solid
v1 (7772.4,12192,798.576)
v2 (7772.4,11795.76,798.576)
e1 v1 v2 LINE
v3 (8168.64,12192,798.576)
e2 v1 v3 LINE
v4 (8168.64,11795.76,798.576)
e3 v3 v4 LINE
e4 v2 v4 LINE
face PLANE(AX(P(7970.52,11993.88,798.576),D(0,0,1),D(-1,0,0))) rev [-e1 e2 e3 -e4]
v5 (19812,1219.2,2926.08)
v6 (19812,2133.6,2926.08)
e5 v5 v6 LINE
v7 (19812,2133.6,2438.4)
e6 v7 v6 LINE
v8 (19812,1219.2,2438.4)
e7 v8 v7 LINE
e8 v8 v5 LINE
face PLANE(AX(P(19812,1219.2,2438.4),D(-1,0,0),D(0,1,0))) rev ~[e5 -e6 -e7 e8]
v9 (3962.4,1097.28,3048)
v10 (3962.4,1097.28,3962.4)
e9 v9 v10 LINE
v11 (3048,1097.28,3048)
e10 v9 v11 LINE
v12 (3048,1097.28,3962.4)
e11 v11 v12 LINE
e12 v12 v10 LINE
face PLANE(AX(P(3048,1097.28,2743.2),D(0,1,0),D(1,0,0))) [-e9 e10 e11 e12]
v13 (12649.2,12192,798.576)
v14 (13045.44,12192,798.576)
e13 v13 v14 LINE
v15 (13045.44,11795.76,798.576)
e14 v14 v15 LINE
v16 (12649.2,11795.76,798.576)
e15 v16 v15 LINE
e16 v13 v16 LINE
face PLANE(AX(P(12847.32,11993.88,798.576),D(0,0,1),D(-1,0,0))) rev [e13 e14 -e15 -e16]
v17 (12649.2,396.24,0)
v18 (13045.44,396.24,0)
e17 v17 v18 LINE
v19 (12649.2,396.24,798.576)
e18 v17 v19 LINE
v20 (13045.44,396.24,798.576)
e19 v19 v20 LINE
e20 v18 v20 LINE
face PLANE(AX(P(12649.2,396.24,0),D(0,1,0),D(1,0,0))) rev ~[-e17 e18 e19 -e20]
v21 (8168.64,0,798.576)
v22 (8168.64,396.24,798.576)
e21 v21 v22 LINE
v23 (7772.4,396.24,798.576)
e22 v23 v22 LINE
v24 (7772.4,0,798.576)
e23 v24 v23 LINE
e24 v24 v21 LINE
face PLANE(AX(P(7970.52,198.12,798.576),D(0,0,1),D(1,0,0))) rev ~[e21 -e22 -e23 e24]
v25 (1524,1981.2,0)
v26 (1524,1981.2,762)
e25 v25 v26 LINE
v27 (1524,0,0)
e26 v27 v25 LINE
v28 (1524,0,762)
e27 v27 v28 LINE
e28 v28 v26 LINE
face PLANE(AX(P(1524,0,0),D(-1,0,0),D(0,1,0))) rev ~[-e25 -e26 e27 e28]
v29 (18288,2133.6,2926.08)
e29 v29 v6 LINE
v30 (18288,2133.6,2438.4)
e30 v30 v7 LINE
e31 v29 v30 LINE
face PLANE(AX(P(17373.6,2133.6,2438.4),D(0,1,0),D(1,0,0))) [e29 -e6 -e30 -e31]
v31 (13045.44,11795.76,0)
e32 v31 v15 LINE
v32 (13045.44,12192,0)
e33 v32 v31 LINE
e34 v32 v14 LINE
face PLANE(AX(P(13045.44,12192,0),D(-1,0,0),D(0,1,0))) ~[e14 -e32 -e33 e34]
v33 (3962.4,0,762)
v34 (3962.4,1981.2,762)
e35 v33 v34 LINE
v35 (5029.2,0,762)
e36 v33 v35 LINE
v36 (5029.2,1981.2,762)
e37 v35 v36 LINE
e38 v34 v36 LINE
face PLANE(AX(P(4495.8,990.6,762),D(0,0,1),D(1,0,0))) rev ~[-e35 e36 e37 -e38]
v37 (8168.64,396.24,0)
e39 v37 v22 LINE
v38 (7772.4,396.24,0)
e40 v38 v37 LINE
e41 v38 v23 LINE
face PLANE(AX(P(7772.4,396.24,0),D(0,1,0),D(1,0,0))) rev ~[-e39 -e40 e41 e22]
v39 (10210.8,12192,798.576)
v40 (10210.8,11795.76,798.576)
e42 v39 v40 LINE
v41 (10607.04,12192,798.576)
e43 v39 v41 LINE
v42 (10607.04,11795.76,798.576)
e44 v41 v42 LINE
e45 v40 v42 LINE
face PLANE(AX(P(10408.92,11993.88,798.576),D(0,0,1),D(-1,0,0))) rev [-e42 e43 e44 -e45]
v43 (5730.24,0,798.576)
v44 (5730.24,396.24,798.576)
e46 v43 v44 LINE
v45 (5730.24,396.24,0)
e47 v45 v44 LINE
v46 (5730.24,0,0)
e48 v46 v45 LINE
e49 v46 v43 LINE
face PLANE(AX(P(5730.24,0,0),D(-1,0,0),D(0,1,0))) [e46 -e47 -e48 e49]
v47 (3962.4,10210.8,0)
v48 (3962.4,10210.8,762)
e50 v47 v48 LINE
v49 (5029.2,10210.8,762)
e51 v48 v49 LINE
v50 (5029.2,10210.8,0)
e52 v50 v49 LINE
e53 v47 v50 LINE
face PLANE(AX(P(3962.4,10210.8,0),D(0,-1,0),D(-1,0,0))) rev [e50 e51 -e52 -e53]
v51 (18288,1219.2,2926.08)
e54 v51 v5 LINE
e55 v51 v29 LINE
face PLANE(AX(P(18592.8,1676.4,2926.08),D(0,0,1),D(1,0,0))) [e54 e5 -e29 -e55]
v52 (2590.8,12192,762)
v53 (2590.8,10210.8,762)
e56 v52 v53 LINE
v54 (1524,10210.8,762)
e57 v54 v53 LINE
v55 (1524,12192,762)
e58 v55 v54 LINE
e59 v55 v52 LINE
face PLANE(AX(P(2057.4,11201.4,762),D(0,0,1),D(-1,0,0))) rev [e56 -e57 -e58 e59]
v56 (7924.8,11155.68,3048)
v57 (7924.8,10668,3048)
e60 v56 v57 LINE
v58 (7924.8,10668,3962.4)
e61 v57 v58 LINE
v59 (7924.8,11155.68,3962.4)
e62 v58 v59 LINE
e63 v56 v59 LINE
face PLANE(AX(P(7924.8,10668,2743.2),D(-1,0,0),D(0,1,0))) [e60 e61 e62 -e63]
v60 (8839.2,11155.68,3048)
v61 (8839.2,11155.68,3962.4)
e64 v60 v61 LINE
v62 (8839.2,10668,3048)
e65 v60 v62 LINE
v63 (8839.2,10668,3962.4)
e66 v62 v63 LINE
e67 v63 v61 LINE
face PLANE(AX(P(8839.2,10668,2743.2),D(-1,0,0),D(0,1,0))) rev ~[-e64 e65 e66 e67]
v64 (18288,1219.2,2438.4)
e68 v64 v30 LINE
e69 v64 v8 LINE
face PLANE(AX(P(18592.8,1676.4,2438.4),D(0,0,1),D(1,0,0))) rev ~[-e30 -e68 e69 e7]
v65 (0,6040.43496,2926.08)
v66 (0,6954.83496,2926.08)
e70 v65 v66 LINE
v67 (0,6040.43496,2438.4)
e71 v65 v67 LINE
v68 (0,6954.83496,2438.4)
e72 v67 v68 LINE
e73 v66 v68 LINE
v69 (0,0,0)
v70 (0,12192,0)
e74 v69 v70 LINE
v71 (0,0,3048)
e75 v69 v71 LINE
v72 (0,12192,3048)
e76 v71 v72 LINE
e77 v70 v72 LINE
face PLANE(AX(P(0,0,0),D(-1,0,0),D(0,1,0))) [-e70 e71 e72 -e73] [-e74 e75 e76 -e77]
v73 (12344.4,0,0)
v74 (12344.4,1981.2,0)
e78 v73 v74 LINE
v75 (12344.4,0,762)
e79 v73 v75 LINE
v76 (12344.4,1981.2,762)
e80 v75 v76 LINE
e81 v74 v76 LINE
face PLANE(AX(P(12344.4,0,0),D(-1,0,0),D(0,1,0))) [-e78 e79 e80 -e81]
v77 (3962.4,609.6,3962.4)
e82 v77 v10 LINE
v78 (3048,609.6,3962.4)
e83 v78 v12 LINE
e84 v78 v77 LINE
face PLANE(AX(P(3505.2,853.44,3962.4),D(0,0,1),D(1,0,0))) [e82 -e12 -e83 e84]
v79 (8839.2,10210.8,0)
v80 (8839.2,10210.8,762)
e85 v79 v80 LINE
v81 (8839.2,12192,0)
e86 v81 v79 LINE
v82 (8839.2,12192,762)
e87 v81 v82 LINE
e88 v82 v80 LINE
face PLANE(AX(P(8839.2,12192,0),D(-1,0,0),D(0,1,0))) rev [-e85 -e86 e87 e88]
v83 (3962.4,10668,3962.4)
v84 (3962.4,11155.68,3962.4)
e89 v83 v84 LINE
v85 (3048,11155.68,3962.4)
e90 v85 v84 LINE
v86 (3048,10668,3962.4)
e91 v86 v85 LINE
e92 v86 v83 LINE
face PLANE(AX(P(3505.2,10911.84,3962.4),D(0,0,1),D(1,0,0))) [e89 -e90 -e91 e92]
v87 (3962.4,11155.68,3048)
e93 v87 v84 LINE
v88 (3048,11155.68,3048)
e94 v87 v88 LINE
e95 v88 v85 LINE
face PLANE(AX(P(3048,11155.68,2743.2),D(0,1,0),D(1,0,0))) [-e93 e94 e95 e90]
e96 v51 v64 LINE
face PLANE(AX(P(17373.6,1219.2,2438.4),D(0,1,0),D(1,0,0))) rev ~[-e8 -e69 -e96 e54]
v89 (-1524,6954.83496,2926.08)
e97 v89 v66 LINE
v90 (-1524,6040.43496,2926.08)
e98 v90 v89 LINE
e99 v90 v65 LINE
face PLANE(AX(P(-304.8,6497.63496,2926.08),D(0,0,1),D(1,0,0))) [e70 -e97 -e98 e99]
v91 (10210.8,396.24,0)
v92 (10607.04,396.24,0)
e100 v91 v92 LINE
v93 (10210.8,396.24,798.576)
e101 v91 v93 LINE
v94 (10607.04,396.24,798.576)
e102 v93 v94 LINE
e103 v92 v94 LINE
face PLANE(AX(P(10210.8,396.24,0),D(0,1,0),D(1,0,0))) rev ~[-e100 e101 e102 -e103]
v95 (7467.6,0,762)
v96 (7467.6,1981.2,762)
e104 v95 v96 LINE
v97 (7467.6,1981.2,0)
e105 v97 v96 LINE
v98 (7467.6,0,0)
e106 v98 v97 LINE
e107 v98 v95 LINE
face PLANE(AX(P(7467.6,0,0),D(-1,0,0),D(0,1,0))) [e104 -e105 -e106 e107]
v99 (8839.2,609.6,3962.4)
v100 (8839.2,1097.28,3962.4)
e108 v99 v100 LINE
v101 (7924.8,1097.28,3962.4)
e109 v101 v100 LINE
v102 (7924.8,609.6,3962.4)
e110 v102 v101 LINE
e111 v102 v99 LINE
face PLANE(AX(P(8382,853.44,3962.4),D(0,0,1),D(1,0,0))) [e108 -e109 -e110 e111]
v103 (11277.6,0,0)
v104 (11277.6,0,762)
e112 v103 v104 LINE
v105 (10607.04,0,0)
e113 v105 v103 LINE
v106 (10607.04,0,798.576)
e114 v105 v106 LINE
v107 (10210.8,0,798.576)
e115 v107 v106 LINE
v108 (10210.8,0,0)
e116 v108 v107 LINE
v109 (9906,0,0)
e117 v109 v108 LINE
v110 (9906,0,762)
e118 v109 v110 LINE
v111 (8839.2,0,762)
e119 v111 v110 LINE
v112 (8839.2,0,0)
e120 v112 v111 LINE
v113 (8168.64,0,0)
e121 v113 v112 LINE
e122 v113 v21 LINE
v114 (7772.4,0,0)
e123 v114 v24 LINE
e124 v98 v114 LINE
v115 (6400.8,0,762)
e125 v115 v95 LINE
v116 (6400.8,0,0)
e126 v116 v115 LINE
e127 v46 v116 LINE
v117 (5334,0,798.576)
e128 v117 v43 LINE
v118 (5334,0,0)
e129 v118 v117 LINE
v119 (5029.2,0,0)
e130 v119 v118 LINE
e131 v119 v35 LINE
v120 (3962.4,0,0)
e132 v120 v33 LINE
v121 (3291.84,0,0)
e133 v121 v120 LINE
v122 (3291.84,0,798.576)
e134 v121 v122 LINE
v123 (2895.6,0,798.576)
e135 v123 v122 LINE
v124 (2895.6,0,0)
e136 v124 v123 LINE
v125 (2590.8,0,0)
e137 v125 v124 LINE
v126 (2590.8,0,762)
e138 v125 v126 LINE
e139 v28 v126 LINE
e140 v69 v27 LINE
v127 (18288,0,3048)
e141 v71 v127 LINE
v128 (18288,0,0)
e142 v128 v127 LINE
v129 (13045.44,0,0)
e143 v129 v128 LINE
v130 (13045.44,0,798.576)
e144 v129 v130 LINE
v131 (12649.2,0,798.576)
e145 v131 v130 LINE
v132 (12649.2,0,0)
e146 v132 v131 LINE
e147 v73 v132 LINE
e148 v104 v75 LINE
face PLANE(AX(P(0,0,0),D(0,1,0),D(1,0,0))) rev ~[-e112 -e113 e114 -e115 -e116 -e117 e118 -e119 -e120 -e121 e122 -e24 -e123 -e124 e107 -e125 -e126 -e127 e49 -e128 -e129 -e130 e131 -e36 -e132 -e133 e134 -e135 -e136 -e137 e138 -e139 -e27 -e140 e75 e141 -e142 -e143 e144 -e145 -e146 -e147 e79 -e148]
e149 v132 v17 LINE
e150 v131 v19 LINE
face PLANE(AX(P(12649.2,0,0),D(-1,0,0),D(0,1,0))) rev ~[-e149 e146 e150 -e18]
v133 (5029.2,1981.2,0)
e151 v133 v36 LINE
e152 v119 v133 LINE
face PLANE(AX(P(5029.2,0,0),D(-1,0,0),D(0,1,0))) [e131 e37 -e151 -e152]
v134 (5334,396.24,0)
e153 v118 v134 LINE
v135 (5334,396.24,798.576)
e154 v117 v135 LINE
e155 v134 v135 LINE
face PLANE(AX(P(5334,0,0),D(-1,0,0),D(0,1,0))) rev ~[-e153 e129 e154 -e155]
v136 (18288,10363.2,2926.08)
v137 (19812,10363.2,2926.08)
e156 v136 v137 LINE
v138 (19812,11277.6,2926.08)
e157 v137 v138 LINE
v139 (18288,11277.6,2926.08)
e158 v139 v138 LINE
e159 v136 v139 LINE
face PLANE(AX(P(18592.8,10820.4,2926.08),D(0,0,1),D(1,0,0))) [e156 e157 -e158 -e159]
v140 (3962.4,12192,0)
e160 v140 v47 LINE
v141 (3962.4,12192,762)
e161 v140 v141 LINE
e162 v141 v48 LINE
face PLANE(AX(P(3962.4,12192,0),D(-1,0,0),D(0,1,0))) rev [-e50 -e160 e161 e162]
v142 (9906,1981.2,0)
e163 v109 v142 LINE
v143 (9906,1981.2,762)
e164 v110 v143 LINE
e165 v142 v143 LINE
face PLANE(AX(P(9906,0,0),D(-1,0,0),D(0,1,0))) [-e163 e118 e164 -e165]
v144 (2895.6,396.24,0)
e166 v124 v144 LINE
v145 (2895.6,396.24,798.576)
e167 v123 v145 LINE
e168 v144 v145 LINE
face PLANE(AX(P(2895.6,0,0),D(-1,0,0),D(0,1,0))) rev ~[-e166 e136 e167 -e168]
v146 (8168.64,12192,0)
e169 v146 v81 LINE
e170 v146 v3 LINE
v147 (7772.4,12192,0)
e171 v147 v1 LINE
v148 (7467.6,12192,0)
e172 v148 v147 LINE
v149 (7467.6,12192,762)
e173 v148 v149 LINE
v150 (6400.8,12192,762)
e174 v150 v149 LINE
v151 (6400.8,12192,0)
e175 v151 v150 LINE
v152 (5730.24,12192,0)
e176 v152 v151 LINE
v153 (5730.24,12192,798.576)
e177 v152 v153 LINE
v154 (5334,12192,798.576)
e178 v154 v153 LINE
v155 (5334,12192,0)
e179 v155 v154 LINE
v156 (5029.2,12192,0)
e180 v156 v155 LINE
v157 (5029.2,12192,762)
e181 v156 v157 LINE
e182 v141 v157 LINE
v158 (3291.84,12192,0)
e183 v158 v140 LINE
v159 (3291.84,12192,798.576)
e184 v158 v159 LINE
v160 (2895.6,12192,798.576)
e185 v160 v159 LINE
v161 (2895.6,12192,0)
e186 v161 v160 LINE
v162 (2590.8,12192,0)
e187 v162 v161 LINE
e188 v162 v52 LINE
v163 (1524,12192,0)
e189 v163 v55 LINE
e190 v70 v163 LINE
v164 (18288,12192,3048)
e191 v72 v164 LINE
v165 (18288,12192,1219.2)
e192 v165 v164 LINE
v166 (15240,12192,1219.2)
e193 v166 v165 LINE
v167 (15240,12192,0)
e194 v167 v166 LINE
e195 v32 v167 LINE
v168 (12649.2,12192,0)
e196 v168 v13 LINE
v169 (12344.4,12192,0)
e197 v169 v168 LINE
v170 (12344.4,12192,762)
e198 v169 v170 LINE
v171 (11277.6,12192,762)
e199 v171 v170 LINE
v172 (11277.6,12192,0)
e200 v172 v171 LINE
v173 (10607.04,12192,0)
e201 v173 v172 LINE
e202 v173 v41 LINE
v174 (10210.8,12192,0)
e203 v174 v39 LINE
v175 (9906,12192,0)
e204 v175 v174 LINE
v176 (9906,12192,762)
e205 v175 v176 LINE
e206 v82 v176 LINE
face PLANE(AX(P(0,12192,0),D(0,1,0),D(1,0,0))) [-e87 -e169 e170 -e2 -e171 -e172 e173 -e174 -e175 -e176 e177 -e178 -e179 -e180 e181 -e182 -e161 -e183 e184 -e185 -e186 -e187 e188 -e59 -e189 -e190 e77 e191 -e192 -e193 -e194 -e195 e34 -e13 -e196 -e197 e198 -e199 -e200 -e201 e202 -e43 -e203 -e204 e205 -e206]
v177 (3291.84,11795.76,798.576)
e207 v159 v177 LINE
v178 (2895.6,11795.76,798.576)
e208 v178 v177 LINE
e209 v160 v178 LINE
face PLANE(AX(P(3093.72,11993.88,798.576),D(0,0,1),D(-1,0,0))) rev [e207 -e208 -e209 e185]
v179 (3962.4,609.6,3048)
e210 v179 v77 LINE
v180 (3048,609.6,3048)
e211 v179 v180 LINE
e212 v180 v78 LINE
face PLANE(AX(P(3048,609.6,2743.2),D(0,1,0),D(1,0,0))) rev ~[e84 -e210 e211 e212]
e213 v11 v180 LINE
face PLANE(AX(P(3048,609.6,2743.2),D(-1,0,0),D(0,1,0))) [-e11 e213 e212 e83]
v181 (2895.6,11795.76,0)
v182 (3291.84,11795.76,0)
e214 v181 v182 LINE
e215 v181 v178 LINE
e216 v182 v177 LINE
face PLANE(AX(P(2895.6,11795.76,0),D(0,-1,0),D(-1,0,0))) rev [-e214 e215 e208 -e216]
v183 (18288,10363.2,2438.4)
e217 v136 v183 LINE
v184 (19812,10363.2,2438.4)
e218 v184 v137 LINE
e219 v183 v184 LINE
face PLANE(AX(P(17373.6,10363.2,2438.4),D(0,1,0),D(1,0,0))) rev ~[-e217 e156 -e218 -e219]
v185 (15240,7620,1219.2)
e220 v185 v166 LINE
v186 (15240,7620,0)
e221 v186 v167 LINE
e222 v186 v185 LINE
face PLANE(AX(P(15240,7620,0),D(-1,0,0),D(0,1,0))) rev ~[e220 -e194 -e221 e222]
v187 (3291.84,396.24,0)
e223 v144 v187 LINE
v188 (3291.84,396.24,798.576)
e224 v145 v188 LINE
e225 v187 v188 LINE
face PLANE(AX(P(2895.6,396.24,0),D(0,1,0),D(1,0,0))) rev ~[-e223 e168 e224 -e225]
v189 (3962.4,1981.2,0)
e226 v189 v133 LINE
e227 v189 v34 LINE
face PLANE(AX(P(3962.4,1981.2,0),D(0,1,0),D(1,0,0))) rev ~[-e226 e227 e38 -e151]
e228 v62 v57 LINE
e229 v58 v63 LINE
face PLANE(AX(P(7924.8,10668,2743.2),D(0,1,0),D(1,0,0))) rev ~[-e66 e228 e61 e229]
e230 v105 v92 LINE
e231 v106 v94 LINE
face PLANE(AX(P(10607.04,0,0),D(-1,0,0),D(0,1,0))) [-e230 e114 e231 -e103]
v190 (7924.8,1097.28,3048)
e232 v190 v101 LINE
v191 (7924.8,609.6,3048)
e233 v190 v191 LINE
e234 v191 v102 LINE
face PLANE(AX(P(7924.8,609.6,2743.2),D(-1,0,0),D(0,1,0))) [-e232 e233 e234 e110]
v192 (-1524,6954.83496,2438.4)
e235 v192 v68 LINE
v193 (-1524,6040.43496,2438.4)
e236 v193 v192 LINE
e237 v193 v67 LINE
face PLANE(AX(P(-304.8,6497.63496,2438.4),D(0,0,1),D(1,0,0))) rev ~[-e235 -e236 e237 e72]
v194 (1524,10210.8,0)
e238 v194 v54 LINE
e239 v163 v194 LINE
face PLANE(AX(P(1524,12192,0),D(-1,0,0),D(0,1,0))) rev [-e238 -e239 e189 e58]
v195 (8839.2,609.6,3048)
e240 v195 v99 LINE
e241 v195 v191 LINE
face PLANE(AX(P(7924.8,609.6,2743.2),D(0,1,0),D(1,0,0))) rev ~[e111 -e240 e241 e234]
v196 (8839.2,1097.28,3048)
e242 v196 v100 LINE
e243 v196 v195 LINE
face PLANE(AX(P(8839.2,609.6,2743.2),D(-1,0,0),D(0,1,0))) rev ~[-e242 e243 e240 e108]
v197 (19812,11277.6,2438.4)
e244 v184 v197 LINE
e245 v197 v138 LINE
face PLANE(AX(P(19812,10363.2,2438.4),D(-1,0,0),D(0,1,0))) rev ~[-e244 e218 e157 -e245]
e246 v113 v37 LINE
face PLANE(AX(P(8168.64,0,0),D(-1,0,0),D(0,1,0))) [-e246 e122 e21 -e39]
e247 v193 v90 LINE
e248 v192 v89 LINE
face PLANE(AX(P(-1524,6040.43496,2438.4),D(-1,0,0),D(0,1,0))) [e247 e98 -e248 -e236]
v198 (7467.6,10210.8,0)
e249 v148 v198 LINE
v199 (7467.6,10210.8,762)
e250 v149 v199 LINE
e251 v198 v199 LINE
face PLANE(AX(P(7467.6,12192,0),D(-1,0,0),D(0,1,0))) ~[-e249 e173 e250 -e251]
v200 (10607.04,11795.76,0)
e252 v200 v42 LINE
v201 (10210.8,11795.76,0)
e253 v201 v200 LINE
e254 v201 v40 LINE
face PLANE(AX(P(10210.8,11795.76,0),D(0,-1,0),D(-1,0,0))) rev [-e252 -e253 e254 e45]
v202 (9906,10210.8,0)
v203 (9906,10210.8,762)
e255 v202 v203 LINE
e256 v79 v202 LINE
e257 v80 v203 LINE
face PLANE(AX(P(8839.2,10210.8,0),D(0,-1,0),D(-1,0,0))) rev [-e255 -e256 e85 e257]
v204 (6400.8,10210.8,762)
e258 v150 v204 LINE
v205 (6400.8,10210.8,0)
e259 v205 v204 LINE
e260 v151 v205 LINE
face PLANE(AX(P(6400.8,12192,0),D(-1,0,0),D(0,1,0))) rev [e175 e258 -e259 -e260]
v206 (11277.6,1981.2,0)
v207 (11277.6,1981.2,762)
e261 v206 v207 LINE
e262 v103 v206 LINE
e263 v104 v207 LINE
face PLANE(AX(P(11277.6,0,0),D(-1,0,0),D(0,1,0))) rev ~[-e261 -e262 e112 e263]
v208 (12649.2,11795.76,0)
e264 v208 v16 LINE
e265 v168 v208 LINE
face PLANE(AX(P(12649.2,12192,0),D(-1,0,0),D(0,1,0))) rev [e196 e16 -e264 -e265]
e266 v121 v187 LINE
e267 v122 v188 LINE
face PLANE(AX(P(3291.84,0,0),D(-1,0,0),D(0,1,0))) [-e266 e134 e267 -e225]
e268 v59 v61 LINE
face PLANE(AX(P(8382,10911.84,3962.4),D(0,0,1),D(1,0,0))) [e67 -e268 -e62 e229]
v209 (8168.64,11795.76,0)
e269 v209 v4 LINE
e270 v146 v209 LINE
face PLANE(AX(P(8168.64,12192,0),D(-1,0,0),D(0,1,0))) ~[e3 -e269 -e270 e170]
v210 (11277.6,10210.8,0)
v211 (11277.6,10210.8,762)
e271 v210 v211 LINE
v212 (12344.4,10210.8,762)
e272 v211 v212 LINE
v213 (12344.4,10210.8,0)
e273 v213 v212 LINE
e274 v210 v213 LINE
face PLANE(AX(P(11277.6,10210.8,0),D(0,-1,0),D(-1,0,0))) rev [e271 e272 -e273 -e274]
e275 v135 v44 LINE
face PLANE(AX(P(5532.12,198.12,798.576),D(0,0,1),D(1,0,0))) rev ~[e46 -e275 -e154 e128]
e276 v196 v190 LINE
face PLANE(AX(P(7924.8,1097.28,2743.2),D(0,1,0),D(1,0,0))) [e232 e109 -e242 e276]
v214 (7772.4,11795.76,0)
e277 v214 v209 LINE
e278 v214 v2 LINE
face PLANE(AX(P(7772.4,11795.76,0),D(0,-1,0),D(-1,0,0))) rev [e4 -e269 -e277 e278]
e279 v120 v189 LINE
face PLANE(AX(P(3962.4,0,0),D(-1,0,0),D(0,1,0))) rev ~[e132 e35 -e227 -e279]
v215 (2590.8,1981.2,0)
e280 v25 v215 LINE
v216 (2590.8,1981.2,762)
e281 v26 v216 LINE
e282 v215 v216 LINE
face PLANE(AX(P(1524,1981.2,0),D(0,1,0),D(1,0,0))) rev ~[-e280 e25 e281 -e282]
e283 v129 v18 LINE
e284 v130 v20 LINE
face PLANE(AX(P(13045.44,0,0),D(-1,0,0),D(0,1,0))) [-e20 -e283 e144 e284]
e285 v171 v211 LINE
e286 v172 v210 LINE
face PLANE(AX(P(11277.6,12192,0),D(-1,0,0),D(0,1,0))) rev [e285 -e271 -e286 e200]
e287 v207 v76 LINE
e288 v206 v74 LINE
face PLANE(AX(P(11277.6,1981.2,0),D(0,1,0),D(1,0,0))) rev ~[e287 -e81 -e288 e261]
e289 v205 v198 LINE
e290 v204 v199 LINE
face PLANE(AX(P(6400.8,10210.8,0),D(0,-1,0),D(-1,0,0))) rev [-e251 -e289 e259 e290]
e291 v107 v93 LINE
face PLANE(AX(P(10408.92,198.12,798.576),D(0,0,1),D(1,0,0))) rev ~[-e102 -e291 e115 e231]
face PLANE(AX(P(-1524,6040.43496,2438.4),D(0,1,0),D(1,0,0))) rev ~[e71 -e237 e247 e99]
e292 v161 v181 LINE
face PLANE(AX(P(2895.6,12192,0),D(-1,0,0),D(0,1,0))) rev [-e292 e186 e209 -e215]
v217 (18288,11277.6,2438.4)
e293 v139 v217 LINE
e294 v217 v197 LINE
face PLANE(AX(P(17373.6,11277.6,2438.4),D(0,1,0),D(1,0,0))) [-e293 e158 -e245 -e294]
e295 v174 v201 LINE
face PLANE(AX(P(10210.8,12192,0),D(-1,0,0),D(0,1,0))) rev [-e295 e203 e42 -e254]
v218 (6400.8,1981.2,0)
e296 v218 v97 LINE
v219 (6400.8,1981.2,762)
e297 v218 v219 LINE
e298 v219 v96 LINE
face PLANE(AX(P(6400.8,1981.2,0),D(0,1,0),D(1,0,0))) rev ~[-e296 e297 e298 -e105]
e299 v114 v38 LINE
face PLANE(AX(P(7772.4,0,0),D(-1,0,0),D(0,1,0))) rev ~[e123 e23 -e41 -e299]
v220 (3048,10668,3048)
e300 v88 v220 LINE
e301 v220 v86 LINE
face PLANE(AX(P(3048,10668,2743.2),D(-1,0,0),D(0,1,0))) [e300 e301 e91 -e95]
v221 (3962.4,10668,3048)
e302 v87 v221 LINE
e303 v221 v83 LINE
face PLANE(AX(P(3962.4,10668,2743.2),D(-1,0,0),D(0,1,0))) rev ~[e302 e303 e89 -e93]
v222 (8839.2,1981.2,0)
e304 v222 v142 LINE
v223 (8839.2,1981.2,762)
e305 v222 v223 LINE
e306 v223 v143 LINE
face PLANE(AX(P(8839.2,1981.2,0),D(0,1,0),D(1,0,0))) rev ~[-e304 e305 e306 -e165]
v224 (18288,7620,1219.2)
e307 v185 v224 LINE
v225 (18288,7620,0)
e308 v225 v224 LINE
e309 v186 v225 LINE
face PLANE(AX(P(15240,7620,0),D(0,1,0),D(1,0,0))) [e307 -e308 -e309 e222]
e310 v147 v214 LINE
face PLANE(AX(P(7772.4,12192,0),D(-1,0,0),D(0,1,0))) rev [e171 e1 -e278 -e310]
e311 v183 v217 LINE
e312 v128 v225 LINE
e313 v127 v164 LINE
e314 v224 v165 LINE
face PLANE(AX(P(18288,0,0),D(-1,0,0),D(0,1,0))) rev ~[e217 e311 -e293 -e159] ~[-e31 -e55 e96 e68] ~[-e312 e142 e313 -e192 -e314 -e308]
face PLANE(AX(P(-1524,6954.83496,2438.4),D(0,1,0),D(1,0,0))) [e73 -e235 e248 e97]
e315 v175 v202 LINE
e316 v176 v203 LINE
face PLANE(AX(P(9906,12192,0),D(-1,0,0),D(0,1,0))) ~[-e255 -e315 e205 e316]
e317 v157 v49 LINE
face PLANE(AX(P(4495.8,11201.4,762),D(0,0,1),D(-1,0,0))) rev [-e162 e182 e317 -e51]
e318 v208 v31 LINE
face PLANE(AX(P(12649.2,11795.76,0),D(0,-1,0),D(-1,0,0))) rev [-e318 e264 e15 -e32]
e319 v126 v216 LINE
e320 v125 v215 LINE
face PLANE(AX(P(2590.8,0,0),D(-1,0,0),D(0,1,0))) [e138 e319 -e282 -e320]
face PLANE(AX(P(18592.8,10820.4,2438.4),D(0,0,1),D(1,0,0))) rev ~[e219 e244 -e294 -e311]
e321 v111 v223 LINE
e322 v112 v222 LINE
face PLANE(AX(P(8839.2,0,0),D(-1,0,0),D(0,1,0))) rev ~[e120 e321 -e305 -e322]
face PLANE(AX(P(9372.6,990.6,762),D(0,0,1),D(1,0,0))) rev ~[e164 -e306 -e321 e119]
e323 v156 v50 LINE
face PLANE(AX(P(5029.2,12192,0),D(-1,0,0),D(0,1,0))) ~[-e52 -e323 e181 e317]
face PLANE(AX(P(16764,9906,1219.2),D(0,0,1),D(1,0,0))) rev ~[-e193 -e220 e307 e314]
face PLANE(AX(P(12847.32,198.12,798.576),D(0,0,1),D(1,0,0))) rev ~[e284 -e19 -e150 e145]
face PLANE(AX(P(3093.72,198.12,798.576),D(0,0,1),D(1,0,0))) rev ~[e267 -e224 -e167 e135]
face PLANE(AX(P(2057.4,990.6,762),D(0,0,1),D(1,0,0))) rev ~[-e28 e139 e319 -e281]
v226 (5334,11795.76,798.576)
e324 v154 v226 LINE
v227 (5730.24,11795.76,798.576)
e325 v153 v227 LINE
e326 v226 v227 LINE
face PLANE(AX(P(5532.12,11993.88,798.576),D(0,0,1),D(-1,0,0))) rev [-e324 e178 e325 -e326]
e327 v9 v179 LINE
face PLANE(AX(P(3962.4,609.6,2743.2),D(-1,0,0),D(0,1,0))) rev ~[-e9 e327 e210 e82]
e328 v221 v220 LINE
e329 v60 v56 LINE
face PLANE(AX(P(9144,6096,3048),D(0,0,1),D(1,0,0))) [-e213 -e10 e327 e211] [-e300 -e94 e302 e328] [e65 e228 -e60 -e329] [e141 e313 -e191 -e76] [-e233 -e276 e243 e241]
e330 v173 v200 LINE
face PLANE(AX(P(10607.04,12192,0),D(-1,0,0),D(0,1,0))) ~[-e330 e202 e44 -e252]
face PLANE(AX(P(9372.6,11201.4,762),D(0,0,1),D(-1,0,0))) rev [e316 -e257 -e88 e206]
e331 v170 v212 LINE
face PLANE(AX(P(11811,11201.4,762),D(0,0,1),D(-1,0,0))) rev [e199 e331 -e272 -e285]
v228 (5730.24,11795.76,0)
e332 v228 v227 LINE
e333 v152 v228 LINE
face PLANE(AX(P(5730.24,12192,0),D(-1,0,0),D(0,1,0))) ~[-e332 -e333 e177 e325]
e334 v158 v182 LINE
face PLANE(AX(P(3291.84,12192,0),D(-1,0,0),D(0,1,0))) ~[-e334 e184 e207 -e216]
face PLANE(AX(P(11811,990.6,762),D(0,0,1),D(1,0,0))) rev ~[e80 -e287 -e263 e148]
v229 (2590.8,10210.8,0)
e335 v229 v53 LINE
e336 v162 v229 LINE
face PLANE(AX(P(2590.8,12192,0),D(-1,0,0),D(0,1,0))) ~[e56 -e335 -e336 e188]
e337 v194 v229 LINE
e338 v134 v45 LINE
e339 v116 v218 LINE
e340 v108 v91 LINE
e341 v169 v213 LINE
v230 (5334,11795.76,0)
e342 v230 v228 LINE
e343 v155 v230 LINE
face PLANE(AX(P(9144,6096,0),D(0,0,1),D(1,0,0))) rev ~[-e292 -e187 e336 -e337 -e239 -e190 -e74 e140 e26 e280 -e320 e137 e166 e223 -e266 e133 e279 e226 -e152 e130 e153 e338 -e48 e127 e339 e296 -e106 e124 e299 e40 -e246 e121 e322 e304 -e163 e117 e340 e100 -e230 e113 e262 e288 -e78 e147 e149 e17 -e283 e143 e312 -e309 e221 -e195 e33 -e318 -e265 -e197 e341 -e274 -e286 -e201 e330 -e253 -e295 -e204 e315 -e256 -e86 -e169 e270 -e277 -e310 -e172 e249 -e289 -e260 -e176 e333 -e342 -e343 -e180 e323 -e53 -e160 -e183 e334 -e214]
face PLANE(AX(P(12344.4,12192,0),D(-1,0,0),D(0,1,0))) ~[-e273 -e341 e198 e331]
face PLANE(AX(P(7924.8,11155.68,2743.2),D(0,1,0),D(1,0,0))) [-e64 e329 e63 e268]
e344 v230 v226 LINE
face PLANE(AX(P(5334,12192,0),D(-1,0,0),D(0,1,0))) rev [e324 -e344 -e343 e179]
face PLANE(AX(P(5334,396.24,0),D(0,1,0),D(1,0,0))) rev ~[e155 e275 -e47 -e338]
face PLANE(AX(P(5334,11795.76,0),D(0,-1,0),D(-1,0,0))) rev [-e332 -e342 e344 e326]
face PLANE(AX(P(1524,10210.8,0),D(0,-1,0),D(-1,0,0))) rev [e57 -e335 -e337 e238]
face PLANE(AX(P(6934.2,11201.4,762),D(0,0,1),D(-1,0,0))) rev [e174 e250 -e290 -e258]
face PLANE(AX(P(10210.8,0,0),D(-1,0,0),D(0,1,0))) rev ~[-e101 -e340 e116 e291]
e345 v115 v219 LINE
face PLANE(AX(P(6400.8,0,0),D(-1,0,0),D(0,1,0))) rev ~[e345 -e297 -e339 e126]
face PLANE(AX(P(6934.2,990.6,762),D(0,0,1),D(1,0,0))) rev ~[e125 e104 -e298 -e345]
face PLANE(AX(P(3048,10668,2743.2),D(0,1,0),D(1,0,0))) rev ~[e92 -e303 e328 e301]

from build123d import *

# Parameters (mm, degrees)
BOX011_W     = 3048
BOX011_H     = 4572
BOX011_DEPTH = 1219.2
BOX006_W     = 1066.8
BOX006_H     = 1981.2
BOX006_DEPTH = 762
BOX005_W     = 396.24
BOX005_H     = 396.24
BOX005_DEPTH = 798.576
BOX007_W     = 1066.8
BOX007_H     = 1981.2
BOX007_DEPTH = 762
BOX008_W     = 396.24
BOX008_H     = 396.24
BOX008_DEPTH = 798.576
BOX010_W     = 1066.8
BOX010_H     = 1981.2
BOX010_DEPTH = 762
BOX009_W     = 396.24
BOX009_H     = 396.24
BOX009_DEPTH = 798.576
BOX001_W     = 1066.8
BOX001_H     = 1981.2
BOX001_DEPTH = 762
BOX002_W     = 396.24
BOX002_H     = 396.24
BOX002_DEPTH = 798.576
BOX003_W     = 1066.8
BOX003_H     = 1981.2
BOX003_DEPTH = 762
BOX004_W     = 396.24
BOX004_H     = 396.24
BOX004_DEPTH = 798.576
BOX017_W     = 914.4
BOX017_H     = 487.68
BOX017_DEPTH = 1219.2
BOX018_W     = 914.4
BOX018_H     = 487.68
BOX018_DEPTH = 1219.2
BOX019_W     = 914.4
BOX019_H     = 487.68
BOX019_DEPTH = 1219.2
BOX016_W     = 914.4
BOX016_H     = 487.68
BOX016_DEPTH = 1219.2
BOX012_W     = 2438.4
BOX012_H     = 914.4
BOX012_DEPTH = 487.68
BOX013_W     = 2438.4
BOX013_H     = 914.4
BOX013_DEPTH = 487.68
BOX020_W     = 2438.4
BOX020_H     = 914.4
BOX020_DEPTH = 487.68
BOX_W        = 18288
BOX_H        = 12192
BOX_DEPTH    = 3048


with BuildPart() as nurse_station:
    # Box011 → Box011 (new body)
    with BuildSketch(Plane(origin=(15240, 7620, 0), x_dir=(1, 0, 0), z_dir=(0, 0, 1))):
        with Locations((1524, 2286)):
            Rectangle(BOX011_W, BOX011_H)
    extrude(amount=BOX011_DEPTH)


with BuildPart() as box006:
    # Box006 → Box006 (new body)
    with BuildSketch(Plane.XY):
        with Locations((533.4, 990.6)):
            Rectangle(BOX006_W, BOX006_H)
    extrude(amount=BOX006_DEPTH)


with BuildPart() as fusion002:
    # Box005 → Box005 (new body)
    with BuildSketch(Plane(origin=(1371.6, 0, 0), x_dir=(1, 0, 0), z_dir=(0, 0, 1))):
        with Locations((198.12, 198.12)):
            Rectangle(BOX005_W, BOX005_H)
    extrude(amount=BOX005_DEPTH)

    # Fusion002: union Box006
    add(box006.part)


with BuildPart() as fusion002_1:
    # Fusion002 placement: moved
    add(fusion002.part.moved(Location((4876.8, 0, 0))))


with BuildPart() as box007:
    # Box007 → Box007 (new body)
    with BuildSketch(Plane.XY):
        with Locations((533.4, 990.6)):
            Rectangle(BOX007_W, BOX007_H)
    extrude(amount=BOX007_DEPTH)


with BuildPart() as fusion003:
    # Box008 → Box008 (new body)
    with BuildSketch(Plane(origin=(1371.6, 0, 0), x_dir=(1, 0, 0), z_dir=(0, 0, 1))):
        with Locations((198.12, 198.12)):
            Rectangle(BOX008_W, BOX008_H)
    extrude(amount=BOX008_DEPTH)

    # Fusion003: union Box007
    add(box007.part)


with BuildPart() as fusion003_1:
    # Fusion003 placement: moved
    add(fusion003.part.moved(Location((7315.2, 0, 0))))


with BuildPart() as box010:
    # Box010 → Box010 (new body)
    with BuildSketch(Plane.XY):
        with Locations((533.4, 990.6)):
            Rectangle(BOX010_W, BOX010_H)
    extrude(amount=BOX010_DEPTH)


with BuildPart() as fusion004:
    # Box009 → Box009 (new body)
    with BuildSketch(Plane(origin=(1371.6, 0, 0), x_dir=(1, 0, 0), z_dir=(0, 0, 1))):
        with Locations((198.12, 198.12)):
            Rectangle(BOX009_W, BOX009_H)
    extrude(amount=BOX009_DEPTH)

    # Fusion004: union Box010
    add(box010.part)


with BuildPart() as fusion004_1:
    # Fusion004 placement: moved
    add(fusion004.part.moved(Location((9753.6, 0, 0))))


with BuildPart() as box001:
    # Box001 → Box001 (new body)
    with BuildSketch(Plane.XY):
        with Locations((533.4, 990.6)):
            Rectangle(BOX001_W, BOX001_H)
    extrude(amount=BOX001_DEPTH)


with BuildPart() as fusion:
    # Box002 → Box002 (new body)
    with BuildSketch(Plane(origin=(1371.6, 0, 0), x_dir=(1, 0, 0), z_dir=(0, 0, 1))):
        with Locations((198.12, 198.12)):
            Rectangle(BOX002_W, BOX002_H)
    extrude(amount=BOX002_DEPTH)

    # Fusion: union Box001
    add(box001.part)


with BuildPart() as box003:
    # Box003 → Box003 (new body)
    with BuildSketch(Plane.XY):
        with Locations((533.4, 990.6)):
            Rectangle(BOX003_W, BOX003_H)
    extrude(amount=BOX003_DEPTH)


with BuildPart() as right_beds:
    # Box004 → Box004 (new body)
    with BuildSketch(Plane(origin=(1371.6, 0, 0), x_dir=(1, 0, 0), z_dir=(0, 0, 1))):
        with Locations((198.12, 198.12)):
            Rectangle(BOX004_W, BOX004_H)
    extrude(amount=BOX004_DEPTH)

    # Fusion001: union Box003
    add(box003.part)


with BuildPart() as right_beds_1:
    # Fusion001 placement: moved
    add(right_beds.part.moved(Location((2438.4, 0, 0))))

    # Fusion005: union Fusion002, Fusion003, Fusion004, Fusion
    add(fusion002_1.part)
    add(fusion003_1.part)
    add(fusion004_1.part)
    add(fusion.part)


with BuildPart() as surfaces:
    # Part__Mirroring: instance of right beds
    add(right_beds_1.part.mirror(Plane(origin=(0, 6096, 0), x_dir=(1, 0, 0), z_dir=(0, 1, 0))))

    # Fusion006: union right beds
    add(right_beds_1.part)


with BuildPart() as surfaces_1:
    # Fusion006 placement: moved
    add(surfaces.part.moved(Location((1524, 0, 0))))

    # Fusion010: union Nurse Station
    add(nurse_station.part)


with BuildPart() as branch003:
    # Box017 → Box017 (new body)
    with BuildSketch(Plane(origin=(7924.8, 10668, 2743.2), x_dir=(1, 0, 0), z_dir=(0, 0, 1))):
        with Locations((457.2, 243.84)):
            Rectangle(BOX017_W, BOX017_H)
    extrude(amount=BOX017_DEPTH)


with BuildPart() as branch004:
    # Box018 → Box018 (new body)
    with BuildSketch(Plane(origin=(3048, 609.6, 2743.2), x_dir=(1, 0, 0), z_dir=(0, 0, 1))):
        with Locations((457.2, 243.84)):
            Rectangle(BOX018_W, BOX018_H)
    extrude(amount=BOX018_DEPTH)


with BuildPart() as branch005:
    # Box019 → Box019 (new body)
    with BuildSketch(Plane(origin=(3048, 10668, 2743.2), x_dir=(1, 0, 0), z_dir=(0, 0, 1))):
        with Locations((457.2, 243.84)):
            Rectangle(BOX019_W, BOX019_H)
    extrude(amount=BOX019_DEPTH)


with BuildPart() as branch_ducts:
    # Box016 → Box016 (new body)
    with BuildSketch(Plane(origin=(7924.8, 609.6, 2743.2), x_dir=(1, 0, 0), z_dir=(0, 0, 1))):
        with Locations((457.2, 243.84)):
            Rectangle(BOX016_W, BOX016_H)
    extrude(amount=BOX016_DEPTH)

    # Fusion011: union branch003, branch004, branch005
    add(branch003.part)
    add(branch004.part)
    add(branch005.part)


with BuildPart() as main_inlet:
    # Box012 → Box012 (new body)
    with BuildSketch(Plane(origin=(17373.6, 1219.2, 2438.4), x_dir=(1, 0, 0), z_dir=(0, 0, 1))):
        with Locations((1219.2, 457.2)):
            Rectangle(BOX012_W, BOX012_H)
    extrude(amount=BOX012_DEPTH)


with BuildPart() as main_outlet:
    # Box013 → Box013 (new body)
    with BuildSketch(Plane(origin=(-1524, 6040.43496, 2438.4), x_dir=(1, 0, 0), z_dir=(0, 0, 1))):
        with Locations((1219.2, 457.2)):
            Rectangle(BOX013_W, BOX013_H)
    extrude(amount=BOX013_DEPTH)


with BuildPart() as fusion013:
    # Box020 → Box020 (new body)
    with BuildSketch(Plane(origin=(17373.6, 10363.2, 2438.4), x_dir=(1, 0, 0), z_dir=(0, 0, 1))):
        with Locations((1219.2, 457.2)):
            Rectangle(BOX020_W, BOX020_H)
    extrude(amount=BOX020_DEPTH)

    # Fusion012: union main inlet, main outlet
    add(main_inlet.part)
    add(main_outlet.part)

    # Fusion013: union branch_ducts
    add(branch_ducts.part)


with BuildPart() as cut:
    # Box → Box (new body)
    with BuildSketch(Plane.XY):
        with Locations((9144, 6096)):
            Rectangle(BOX_W, BOX_H)
    extrude(amount=BOX_DEPTH)

    # Fusion014: union Fusion013
    add(fusion013.part)

    # Cut: cut surfaces
    add(surfaces_1.part, mode=Mode.SUBTRACT)


solid = cut.part
